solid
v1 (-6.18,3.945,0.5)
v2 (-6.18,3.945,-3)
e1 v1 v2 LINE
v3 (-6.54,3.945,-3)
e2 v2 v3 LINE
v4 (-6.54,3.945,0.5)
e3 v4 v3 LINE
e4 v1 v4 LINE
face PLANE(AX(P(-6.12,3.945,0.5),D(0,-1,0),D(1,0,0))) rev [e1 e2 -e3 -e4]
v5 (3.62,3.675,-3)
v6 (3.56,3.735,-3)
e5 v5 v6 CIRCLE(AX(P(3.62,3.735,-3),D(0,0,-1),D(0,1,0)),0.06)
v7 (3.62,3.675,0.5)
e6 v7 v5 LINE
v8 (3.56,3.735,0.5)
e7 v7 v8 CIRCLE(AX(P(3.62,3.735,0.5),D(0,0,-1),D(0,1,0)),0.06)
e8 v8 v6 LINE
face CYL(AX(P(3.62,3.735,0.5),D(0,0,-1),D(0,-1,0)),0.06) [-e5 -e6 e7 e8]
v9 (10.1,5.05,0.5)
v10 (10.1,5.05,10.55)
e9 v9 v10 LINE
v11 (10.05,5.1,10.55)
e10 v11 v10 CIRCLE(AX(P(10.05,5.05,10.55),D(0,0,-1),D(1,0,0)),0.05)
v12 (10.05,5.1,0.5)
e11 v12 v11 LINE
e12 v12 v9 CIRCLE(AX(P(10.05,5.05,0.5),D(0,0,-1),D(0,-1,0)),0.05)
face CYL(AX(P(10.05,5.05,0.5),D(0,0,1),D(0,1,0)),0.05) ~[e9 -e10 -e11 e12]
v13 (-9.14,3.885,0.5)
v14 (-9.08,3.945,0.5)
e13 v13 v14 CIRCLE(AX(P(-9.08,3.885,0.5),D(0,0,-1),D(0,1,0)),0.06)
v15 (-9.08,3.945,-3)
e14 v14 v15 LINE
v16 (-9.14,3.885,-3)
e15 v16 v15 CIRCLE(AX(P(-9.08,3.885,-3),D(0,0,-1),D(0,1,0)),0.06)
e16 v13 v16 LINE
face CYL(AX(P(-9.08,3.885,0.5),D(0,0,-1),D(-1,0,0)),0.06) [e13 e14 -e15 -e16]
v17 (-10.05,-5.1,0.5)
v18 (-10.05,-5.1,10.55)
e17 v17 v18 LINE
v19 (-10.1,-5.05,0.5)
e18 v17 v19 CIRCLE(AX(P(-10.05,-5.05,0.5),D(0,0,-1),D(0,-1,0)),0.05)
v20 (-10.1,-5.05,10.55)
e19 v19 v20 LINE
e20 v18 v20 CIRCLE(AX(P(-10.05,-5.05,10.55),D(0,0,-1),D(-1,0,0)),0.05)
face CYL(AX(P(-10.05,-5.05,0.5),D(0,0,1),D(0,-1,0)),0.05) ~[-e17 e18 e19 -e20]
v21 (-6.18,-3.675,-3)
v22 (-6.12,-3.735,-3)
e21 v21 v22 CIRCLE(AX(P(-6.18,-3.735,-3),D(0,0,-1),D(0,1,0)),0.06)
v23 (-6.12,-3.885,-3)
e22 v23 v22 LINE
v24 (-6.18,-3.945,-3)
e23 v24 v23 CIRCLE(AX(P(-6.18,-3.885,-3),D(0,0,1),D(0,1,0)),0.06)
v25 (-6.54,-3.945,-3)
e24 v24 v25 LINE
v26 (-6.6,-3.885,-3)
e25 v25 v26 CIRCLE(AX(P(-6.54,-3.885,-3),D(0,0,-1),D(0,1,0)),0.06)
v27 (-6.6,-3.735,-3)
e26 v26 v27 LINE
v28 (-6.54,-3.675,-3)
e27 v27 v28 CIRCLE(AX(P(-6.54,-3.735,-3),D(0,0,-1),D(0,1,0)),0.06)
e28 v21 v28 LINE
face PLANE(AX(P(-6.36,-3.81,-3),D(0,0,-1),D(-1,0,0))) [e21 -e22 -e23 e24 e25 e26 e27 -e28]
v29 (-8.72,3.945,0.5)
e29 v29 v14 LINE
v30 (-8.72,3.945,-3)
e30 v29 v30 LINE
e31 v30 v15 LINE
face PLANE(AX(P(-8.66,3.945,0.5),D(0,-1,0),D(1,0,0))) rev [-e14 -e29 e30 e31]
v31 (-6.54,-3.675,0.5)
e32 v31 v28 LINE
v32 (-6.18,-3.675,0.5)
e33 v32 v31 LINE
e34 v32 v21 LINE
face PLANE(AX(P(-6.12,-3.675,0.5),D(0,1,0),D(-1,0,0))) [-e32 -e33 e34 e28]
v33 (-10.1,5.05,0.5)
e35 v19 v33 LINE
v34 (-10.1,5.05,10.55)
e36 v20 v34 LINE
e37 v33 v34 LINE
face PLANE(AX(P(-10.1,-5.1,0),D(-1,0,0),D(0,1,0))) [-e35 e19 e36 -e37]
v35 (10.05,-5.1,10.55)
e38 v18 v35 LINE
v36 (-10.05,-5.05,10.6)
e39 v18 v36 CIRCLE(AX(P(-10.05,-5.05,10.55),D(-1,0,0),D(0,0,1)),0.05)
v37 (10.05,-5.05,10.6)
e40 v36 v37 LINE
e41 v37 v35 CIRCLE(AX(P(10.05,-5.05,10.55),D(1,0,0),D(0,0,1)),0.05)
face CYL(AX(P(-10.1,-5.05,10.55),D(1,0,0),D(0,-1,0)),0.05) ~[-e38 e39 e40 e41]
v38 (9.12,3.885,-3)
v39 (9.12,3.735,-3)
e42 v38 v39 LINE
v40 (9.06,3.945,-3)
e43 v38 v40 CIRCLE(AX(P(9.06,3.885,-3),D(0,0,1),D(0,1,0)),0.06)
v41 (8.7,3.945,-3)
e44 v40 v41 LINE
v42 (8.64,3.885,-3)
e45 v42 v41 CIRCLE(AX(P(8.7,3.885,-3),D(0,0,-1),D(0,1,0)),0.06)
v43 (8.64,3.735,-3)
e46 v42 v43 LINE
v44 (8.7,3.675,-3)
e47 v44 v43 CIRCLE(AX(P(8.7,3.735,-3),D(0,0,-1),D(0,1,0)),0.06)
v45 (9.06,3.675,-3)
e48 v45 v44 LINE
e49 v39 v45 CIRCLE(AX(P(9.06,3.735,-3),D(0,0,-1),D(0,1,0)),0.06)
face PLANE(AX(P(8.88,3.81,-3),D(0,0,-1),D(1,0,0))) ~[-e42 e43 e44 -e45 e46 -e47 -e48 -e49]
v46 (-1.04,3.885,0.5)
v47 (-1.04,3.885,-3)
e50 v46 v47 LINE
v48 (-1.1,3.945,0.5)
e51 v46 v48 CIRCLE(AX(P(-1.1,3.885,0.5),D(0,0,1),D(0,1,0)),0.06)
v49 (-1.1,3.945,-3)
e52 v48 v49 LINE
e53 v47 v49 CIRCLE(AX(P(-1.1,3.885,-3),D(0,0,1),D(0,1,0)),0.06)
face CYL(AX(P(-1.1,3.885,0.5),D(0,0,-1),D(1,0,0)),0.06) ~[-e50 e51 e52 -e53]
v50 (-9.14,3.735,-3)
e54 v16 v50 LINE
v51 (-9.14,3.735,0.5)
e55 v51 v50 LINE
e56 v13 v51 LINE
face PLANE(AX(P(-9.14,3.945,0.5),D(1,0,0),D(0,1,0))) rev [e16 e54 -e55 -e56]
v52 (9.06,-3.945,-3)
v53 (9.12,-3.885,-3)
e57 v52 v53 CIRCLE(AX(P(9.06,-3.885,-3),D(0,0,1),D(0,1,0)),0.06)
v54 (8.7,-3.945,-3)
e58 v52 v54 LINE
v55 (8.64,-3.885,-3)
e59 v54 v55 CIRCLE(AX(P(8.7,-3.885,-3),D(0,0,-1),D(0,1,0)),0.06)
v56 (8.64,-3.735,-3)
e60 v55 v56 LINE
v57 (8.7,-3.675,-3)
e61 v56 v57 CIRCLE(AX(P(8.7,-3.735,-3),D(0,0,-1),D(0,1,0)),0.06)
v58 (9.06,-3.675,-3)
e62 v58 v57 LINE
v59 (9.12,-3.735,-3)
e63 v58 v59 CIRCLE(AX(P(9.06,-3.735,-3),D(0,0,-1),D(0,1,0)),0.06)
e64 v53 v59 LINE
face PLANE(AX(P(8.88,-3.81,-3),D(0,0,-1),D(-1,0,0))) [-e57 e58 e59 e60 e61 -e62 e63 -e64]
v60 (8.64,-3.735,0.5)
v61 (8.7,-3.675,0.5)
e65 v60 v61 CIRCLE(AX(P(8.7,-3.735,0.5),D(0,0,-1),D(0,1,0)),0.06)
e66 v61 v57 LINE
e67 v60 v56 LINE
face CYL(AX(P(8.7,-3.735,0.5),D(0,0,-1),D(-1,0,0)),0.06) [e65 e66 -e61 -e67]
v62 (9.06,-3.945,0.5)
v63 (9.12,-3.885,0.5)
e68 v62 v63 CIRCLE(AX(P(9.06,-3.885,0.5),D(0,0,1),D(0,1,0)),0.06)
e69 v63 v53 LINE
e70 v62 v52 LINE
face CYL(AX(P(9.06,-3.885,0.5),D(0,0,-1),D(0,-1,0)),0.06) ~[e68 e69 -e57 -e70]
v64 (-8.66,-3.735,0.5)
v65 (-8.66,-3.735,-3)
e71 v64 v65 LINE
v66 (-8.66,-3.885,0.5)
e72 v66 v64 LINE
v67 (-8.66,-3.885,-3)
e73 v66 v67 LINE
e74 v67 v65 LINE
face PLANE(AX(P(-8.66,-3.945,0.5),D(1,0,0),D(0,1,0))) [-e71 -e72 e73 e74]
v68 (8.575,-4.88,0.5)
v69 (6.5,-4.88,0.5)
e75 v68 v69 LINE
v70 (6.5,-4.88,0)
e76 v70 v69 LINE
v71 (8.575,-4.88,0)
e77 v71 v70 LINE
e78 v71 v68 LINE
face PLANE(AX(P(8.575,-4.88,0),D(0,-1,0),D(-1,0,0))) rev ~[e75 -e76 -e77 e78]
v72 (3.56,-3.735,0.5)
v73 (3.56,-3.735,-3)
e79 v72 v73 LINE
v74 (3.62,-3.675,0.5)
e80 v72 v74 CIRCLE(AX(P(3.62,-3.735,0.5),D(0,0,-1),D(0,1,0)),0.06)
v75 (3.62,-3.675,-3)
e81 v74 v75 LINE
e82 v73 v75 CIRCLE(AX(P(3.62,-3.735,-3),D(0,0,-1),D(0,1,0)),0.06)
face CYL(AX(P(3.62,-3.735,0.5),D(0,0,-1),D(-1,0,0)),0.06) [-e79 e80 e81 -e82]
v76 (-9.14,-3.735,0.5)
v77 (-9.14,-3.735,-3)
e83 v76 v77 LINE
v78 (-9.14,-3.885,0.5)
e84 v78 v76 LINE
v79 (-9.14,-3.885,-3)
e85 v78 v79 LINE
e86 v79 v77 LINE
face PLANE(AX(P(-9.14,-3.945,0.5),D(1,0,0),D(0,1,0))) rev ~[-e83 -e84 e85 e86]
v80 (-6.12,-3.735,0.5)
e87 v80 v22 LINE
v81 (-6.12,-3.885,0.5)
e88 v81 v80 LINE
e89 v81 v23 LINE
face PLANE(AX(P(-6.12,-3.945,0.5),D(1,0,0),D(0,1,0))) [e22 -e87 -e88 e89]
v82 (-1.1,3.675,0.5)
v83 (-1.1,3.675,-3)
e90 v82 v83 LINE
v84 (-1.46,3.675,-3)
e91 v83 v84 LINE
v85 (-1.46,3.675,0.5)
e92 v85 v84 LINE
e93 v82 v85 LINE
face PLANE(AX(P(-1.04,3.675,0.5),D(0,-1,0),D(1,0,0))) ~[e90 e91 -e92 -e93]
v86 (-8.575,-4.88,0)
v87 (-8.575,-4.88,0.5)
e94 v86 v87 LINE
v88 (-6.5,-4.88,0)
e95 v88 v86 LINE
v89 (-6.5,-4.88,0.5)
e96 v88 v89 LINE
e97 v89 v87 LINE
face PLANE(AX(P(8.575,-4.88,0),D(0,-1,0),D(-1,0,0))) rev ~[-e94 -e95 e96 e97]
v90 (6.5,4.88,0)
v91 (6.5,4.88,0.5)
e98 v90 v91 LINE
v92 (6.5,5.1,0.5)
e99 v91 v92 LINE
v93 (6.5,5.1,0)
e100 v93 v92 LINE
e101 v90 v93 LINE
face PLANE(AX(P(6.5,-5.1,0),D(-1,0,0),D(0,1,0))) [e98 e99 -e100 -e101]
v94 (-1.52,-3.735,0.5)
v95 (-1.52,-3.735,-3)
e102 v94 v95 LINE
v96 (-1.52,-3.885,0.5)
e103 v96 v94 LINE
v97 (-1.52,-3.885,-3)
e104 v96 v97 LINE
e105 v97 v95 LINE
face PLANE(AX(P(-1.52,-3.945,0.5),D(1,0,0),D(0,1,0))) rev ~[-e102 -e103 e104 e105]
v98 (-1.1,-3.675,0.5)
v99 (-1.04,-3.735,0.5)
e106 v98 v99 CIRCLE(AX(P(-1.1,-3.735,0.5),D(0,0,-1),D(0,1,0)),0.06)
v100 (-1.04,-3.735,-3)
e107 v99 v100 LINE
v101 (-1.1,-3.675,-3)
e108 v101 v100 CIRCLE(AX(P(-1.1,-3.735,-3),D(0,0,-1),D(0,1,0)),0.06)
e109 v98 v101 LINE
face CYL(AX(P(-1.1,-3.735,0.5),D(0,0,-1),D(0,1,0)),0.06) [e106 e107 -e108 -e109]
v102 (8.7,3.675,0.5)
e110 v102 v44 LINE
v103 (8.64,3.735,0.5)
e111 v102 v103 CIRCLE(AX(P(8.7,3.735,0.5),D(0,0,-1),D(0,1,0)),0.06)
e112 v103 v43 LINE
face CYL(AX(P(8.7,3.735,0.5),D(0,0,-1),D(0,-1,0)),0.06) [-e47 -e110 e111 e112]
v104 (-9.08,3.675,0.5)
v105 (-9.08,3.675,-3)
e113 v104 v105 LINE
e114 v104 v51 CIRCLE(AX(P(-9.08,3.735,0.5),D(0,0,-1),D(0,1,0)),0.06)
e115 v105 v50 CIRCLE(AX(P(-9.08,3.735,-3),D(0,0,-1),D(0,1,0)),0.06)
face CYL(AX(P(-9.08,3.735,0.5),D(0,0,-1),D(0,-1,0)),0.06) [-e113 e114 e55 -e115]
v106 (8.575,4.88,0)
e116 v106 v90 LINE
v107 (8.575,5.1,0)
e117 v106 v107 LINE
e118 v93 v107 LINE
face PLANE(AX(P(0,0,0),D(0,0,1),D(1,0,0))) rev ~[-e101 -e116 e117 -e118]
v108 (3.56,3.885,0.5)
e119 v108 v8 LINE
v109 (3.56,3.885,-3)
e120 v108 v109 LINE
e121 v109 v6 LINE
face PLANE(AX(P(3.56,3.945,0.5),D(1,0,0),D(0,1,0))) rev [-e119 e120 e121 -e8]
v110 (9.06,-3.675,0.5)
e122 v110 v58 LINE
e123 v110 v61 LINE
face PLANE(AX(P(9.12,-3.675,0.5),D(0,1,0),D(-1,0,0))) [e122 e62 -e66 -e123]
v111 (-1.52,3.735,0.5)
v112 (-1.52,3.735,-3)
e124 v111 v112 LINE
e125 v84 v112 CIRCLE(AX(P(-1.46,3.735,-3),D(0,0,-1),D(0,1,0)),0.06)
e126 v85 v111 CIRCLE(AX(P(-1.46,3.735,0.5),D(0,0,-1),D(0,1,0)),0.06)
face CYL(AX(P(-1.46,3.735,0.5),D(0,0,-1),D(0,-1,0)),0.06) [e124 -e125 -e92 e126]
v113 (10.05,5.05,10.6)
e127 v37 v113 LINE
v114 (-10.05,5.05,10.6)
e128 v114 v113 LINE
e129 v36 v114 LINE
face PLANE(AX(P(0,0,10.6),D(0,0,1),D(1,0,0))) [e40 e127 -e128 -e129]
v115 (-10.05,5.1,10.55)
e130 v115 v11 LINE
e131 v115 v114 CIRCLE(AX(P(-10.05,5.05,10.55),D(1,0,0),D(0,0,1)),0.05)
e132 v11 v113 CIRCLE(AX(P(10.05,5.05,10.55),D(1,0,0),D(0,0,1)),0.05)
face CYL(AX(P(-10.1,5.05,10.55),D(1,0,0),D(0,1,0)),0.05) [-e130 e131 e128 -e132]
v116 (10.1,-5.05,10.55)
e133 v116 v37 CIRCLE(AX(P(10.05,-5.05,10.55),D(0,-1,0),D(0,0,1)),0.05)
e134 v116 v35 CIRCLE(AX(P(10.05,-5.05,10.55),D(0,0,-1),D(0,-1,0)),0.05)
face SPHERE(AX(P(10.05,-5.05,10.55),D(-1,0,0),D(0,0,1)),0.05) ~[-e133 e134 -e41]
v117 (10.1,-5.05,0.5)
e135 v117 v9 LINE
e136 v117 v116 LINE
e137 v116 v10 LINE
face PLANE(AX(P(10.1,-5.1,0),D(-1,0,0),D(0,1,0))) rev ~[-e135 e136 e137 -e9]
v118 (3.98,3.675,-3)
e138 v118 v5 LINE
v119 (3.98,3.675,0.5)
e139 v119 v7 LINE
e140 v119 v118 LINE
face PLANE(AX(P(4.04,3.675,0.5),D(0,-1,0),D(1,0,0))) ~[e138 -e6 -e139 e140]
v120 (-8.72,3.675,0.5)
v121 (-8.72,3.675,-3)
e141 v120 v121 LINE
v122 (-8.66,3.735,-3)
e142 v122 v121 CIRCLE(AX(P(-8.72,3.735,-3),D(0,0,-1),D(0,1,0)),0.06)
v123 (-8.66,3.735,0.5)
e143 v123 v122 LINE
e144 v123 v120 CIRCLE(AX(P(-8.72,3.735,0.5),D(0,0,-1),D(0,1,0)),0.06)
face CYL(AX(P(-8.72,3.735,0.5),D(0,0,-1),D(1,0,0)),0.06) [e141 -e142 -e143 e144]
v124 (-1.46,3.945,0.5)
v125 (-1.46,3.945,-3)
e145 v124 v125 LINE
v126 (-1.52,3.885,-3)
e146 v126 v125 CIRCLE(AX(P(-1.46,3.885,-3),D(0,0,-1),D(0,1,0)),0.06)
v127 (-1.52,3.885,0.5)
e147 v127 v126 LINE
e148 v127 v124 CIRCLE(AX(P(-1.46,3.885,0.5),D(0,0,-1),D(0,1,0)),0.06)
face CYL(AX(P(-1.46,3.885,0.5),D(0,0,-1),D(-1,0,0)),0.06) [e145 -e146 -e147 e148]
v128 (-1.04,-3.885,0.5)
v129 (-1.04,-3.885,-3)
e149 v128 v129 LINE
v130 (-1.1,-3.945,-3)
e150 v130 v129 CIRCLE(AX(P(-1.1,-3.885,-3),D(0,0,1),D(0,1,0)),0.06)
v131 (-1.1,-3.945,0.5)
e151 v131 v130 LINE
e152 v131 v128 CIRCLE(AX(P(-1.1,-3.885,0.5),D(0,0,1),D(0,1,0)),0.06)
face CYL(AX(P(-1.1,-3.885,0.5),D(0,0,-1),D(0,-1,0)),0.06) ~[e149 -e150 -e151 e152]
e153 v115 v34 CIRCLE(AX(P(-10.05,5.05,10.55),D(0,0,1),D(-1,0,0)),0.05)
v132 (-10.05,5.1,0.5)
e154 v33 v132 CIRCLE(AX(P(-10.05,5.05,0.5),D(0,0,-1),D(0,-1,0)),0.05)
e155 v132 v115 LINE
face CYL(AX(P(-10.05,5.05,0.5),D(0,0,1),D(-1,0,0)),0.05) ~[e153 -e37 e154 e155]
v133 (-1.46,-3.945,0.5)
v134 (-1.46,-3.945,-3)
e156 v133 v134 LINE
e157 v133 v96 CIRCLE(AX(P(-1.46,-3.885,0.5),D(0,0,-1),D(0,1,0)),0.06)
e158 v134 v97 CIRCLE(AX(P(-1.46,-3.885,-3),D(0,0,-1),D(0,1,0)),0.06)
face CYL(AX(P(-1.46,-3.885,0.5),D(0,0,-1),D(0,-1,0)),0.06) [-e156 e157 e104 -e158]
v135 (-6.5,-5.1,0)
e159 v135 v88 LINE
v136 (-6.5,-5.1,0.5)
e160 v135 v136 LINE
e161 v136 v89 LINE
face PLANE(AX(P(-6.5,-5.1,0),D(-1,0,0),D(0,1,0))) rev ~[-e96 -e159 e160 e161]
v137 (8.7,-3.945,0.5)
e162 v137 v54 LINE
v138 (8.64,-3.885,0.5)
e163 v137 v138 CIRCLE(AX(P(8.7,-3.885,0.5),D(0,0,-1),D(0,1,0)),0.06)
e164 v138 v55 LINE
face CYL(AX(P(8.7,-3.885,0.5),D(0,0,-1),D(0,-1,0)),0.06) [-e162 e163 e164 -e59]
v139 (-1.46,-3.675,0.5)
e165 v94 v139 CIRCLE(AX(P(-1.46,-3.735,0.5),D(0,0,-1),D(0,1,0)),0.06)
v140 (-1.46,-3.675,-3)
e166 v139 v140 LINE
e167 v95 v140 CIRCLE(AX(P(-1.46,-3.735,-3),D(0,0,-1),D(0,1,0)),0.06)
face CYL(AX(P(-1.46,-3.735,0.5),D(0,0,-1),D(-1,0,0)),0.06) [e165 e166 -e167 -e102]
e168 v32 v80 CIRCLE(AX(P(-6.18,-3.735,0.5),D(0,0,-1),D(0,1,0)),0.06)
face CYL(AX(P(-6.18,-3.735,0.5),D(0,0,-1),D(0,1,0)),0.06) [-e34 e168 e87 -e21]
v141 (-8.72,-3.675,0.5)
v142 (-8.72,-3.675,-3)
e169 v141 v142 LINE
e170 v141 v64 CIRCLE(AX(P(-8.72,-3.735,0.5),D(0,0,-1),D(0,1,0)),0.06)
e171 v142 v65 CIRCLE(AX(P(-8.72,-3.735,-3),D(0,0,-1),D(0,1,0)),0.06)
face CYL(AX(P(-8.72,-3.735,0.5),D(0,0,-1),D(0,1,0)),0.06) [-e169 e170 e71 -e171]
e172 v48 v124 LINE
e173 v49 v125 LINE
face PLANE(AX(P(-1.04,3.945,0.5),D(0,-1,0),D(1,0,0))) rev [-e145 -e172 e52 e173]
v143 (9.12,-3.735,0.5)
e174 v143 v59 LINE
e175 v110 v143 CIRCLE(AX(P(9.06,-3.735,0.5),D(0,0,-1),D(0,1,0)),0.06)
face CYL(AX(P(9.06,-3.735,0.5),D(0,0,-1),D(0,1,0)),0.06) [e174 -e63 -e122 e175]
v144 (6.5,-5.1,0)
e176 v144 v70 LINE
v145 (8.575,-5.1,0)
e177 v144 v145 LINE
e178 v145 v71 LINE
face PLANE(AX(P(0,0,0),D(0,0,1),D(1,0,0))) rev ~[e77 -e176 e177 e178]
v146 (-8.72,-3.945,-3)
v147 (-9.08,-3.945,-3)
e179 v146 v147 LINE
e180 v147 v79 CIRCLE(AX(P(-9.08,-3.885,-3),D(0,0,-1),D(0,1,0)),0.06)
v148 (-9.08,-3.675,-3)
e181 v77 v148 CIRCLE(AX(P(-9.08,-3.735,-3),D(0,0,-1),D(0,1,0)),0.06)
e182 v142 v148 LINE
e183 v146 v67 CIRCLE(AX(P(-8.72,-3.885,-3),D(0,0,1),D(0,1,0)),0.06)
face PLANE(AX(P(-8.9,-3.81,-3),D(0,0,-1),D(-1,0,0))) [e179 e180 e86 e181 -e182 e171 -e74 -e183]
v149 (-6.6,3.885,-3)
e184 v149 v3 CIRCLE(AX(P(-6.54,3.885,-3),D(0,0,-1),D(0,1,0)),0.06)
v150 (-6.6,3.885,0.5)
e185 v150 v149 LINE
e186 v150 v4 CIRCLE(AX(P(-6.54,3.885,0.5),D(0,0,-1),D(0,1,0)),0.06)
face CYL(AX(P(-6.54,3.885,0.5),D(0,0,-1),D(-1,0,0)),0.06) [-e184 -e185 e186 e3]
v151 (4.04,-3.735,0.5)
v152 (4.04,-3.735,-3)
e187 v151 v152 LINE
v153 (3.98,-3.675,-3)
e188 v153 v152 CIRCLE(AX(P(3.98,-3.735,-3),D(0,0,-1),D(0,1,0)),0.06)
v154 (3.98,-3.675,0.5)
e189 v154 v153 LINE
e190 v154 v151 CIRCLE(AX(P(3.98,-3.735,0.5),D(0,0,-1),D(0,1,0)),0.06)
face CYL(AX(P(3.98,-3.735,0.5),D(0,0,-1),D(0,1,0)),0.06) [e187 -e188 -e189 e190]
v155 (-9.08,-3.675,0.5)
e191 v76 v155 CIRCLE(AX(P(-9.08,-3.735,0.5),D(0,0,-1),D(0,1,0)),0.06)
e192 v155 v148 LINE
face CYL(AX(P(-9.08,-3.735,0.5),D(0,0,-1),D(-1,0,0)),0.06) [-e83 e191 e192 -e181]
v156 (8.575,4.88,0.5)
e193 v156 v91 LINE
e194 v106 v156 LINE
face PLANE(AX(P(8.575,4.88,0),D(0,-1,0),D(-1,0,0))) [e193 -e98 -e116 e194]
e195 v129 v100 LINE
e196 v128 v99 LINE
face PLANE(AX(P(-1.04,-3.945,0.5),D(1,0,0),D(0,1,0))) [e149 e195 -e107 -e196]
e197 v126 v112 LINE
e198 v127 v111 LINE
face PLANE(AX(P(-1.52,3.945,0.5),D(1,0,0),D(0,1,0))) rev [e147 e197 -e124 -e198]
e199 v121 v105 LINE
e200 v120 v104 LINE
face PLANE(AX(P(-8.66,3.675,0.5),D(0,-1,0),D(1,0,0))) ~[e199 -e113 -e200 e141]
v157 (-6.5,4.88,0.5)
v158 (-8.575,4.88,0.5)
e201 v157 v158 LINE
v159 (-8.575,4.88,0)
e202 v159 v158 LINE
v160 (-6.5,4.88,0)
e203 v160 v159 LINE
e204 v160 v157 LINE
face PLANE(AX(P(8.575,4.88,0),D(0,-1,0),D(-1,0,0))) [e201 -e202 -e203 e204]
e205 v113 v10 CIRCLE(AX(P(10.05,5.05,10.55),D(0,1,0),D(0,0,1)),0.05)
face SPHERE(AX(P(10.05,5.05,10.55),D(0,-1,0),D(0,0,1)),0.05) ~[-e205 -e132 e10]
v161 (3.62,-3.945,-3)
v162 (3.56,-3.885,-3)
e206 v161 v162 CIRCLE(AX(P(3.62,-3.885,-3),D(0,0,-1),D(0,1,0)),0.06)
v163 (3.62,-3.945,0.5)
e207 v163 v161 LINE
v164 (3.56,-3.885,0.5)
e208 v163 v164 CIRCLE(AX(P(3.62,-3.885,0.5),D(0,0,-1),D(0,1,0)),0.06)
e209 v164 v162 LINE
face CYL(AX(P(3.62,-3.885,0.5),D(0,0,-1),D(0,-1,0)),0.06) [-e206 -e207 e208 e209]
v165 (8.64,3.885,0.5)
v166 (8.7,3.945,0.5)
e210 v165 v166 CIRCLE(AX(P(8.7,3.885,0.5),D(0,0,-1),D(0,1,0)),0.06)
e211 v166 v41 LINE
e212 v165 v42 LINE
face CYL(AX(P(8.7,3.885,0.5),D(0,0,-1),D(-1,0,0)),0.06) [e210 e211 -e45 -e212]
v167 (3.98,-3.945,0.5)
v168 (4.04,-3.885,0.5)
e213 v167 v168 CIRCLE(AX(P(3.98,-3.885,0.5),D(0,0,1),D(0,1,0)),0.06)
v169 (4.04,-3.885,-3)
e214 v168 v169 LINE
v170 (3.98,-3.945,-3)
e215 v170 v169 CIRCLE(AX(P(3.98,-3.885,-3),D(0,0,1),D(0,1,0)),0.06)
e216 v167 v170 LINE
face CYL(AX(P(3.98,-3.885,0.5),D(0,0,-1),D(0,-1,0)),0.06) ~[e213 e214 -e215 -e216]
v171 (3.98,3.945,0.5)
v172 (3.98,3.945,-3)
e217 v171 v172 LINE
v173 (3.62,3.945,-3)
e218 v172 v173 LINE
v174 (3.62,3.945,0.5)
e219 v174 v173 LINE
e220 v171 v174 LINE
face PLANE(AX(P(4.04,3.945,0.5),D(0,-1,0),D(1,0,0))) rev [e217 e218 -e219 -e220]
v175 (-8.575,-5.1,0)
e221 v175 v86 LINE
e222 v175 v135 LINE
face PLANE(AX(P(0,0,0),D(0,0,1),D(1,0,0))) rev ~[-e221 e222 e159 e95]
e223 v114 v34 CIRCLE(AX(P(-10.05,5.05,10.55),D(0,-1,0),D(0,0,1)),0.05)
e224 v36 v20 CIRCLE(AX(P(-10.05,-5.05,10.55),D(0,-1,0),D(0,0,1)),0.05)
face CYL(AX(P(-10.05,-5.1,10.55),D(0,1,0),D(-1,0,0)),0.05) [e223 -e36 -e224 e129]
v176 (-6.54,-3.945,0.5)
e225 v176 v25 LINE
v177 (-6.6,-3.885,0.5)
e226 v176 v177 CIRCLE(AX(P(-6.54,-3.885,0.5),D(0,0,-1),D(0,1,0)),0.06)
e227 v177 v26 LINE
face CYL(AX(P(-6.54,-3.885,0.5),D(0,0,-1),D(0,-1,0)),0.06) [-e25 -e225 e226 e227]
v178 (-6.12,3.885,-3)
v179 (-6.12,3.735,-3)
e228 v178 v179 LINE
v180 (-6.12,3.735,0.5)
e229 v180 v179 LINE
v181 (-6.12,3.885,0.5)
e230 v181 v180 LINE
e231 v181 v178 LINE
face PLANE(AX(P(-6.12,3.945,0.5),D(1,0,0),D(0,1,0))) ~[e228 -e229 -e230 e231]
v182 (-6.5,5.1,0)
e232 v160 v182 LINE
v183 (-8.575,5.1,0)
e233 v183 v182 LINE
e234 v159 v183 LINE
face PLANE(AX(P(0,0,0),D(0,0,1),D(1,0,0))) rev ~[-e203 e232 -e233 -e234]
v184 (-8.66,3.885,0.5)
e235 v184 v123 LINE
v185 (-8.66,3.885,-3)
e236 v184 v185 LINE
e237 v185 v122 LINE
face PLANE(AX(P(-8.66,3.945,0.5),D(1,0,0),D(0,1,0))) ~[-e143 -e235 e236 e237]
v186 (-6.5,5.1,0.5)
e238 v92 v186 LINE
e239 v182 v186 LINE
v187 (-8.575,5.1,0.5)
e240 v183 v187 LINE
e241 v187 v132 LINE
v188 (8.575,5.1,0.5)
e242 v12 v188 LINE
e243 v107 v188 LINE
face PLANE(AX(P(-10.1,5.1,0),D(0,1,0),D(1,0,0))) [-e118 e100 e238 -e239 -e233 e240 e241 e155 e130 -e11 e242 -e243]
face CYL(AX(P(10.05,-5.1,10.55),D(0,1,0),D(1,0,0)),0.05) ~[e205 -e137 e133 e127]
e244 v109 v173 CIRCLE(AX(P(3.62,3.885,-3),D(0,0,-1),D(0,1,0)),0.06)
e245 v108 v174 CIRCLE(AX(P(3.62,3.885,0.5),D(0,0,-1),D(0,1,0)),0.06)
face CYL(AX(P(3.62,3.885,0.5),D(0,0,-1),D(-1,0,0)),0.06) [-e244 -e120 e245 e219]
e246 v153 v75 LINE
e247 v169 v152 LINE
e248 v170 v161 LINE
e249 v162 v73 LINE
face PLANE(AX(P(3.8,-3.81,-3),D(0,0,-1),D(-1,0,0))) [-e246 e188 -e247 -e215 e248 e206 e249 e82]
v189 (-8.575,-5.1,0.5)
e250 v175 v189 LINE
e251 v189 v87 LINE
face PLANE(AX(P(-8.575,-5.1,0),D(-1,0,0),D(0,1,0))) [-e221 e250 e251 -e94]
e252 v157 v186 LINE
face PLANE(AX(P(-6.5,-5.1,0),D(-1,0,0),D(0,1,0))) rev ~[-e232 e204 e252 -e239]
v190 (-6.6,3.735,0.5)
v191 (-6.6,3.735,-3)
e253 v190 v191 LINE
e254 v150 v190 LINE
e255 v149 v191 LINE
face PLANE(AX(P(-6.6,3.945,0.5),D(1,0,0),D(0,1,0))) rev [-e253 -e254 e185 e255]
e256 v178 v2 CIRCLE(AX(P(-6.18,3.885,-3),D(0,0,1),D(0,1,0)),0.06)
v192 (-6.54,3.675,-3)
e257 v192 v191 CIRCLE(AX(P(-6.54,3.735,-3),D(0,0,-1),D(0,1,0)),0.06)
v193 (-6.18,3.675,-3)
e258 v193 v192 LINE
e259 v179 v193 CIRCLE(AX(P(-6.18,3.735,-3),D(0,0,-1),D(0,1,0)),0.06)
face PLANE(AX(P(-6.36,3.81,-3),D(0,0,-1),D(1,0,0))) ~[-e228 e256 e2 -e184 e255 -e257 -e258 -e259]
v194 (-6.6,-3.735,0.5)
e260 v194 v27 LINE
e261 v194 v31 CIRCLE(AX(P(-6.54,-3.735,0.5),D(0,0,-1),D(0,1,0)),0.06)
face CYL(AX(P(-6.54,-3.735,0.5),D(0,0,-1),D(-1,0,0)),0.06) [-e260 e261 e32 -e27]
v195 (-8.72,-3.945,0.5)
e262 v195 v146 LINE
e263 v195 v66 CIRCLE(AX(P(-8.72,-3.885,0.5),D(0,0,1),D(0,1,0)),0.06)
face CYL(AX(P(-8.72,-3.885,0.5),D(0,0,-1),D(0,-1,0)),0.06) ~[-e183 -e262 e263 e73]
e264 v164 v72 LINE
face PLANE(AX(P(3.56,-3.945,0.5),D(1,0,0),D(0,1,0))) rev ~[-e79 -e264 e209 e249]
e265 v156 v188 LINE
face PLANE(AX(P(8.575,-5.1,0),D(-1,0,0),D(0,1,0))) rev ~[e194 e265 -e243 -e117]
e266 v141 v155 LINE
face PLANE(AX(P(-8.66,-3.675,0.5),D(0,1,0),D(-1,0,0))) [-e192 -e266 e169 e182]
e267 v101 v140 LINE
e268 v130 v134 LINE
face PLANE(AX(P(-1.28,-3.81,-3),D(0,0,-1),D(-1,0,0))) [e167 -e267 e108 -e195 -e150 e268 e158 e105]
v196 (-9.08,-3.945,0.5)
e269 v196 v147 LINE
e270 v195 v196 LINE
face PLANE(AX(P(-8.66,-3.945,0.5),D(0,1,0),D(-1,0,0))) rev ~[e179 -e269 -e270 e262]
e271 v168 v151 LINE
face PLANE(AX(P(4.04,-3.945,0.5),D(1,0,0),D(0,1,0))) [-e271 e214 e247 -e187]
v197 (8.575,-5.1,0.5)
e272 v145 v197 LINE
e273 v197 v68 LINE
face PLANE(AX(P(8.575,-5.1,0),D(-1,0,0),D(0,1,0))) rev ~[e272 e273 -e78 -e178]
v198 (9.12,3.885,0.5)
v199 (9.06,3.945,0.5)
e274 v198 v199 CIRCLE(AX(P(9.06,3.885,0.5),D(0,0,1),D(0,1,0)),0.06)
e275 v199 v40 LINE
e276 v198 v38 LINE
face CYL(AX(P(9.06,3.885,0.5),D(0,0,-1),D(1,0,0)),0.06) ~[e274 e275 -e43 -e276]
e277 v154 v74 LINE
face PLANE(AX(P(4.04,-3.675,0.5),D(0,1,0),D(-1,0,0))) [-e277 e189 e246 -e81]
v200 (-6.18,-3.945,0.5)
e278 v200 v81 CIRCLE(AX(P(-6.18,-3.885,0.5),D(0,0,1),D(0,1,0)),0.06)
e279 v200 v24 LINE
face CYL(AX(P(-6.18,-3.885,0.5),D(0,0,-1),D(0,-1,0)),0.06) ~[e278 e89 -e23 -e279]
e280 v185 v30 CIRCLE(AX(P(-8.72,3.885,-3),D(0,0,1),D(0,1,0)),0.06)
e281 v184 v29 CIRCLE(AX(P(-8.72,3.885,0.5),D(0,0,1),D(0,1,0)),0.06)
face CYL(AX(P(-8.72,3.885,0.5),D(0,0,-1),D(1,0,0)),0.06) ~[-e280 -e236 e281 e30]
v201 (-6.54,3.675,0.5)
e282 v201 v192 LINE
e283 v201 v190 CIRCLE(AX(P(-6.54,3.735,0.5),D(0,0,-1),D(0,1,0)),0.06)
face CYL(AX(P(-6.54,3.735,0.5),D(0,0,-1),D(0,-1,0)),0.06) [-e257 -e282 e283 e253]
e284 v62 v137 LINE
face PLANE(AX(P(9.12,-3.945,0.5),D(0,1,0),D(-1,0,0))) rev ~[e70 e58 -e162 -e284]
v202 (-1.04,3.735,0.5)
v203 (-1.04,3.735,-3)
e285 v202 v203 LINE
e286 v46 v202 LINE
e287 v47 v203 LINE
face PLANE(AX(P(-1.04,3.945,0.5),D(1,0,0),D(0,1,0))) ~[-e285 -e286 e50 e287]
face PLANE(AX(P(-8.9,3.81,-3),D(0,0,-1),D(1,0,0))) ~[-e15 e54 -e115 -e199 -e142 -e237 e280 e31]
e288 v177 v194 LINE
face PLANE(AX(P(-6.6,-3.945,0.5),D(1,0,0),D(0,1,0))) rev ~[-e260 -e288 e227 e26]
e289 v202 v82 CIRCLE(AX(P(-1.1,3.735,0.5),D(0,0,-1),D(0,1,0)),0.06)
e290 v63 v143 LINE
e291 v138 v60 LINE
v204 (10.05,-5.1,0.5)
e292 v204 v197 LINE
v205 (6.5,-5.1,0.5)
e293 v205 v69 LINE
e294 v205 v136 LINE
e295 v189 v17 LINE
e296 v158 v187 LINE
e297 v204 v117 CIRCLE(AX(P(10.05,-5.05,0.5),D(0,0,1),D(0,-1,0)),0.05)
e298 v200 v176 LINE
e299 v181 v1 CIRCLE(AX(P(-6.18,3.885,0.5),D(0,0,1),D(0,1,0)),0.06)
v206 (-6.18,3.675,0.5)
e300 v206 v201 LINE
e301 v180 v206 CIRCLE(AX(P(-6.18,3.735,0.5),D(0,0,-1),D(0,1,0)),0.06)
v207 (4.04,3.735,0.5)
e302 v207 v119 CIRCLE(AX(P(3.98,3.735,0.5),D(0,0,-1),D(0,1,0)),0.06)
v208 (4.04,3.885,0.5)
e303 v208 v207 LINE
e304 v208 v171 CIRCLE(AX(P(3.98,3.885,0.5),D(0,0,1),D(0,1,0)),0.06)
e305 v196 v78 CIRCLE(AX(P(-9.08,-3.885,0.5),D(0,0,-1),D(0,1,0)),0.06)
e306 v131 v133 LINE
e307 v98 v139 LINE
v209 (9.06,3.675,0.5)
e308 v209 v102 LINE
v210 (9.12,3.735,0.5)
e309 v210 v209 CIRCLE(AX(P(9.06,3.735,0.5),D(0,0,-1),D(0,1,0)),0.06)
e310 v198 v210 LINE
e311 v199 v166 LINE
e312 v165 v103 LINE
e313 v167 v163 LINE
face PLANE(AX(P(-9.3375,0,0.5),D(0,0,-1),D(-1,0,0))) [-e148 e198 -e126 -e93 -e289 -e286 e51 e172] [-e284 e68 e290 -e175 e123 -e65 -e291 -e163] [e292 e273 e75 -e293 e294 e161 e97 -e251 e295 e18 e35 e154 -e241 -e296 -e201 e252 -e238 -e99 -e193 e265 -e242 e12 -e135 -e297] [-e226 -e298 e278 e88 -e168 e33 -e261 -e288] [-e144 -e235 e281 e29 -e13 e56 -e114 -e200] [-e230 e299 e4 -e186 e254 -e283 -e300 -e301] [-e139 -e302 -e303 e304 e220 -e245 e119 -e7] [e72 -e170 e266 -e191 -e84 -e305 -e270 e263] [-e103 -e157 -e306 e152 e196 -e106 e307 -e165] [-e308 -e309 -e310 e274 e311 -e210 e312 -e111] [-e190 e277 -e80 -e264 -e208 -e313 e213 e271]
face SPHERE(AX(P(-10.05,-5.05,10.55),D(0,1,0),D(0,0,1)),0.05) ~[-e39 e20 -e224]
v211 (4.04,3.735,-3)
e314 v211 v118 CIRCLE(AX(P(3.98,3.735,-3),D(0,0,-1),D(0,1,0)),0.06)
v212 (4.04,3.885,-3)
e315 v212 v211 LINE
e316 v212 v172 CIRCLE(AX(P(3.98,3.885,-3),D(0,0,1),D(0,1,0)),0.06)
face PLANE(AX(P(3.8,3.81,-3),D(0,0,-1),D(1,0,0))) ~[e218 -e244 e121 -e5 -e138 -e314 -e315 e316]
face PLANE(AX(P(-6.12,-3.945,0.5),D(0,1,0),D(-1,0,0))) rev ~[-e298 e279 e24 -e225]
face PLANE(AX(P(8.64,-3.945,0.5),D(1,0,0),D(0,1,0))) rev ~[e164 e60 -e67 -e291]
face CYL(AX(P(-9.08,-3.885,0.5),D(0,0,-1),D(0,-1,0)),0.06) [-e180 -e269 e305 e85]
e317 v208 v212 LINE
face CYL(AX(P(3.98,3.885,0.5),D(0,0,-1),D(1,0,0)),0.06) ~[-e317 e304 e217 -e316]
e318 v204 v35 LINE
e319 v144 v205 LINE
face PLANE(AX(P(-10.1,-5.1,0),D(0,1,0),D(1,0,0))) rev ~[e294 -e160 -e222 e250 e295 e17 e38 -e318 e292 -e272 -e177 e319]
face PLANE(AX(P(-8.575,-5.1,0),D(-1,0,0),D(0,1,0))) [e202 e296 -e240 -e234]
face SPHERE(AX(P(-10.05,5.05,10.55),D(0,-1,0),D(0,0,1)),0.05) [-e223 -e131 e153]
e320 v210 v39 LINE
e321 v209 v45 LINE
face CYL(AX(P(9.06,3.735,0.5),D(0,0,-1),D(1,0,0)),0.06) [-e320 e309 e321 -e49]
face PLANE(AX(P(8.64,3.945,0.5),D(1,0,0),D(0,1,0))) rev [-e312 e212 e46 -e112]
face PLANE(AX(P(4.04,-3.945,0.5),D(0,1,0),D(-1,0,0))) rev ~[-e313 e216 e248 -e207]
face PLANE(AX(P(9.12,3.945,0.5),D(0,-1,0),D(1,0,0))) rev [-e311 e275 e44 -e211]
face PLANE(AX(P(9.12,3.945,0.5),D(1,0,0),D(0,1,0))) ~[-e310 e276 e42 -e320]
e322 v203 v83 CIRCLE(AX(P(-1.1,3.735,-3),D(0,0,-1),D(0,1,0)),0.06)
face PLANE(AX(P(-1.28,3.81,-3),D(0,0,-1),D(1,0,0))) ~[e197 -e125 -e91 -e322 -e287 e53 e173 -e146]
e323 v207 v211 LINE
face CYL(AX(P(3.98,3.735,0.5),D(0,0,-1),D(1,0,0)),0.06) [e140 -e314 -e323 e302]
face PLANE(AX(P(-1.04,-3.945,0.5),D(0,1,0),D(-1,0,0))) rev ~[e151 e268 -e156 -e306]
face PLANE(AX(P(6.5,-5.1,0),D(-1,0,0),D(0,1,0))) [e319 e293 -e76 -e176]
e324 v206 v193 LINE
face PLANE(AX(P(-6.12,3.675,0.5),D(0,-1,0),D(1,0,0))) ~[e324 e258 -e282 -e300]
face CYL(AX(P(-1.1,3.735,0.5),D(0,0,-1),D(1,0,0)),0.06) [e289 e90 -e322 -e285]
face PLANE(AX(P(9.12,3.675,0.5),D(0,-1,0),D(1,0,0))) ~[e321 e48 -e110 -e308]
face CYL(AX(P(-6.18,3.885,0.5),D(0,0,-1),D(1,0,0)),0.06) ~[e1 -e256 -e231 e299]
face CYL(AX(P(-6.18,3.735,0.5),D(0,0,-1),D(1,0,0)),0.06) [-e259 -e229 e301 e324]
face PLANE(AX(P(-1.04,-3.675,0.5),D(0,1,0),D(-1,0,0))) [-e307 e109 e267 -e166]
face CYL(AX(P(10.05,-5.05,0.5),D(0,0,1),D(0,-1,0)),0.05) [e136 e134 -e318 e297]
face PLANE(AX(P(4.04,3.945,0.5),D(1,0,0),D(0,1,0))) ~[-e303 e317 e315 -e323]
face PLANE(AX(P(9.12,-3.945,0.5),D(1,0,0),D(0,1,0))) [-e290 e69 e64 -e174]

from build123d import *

# Parameters (mm, degrees)
SKETCH1_W            = 20.2
SKETCH1_H            = 10.2
BOSS_EXTRUDE1_DEPTH  = 10.6
SKETCH2_W            = 13
SKETCH2_H            = 10.2
SKETCH2_W_2          = 1.525
CUT_EXTRUDE1_DEPTH   = 0.5
SKETCH3_W            = 17.15
SKETCH3_H            = 9.76
CUT_EXTRUDE2_DEPTH   = 0.5
SKETCH4_W            = 0.48
SKETCH4_H            = 0.27
BOSS_EXTRUDE2_DEPTH  = 3.5
FILLET1_R            = 0.06
FILLET1_OF_MIRROR1_R = 0.06
FILLET2_R            = 0.05


with BuildPart() as part:
    # Sketch1 → Boss-Extrude1 (new body)
    with BuildSketch(Plane.XY):
        Rectangle(SKETCH1_W, SKETCH1_H)
    extrude(amount=BOSS_EXTRUDE1_DEPTH)

    # Sketch2 → Cut-Extrude1 (cut)
    with BuildSketch(Plane(origin=(0, 0, 0), x_dir=(-1, 0, 0), z_dir=(0, 0, -1))):
        Rectangle(SKETCH2_W, SKETCH2_H)
        with Locations((-9.3375, 0)):
            Rectangle(SKETCH2_W_2, SKETCH2_H)
        with Locations((9.3375, 0)):
            Rectangle(SKETCH2_W_2, SKETCH2_H)
    extrude(amount=-CUT_EXTRUDE1_DEPTH, mode=Mode.SUBTRACT)

    # Sketch3 → Cut-Extrude2 (cut)
    with BuildSketch(Plane(origin=(0, 0, 0), x_dir=(-1, 0, 0), z_dir=(0, 0, -1))):
        Rectangle(SKETCH3_W, SKETCH3_H)
    extrude(amount=-CUT_EXTRUDE2_DEPTH, mode=Mode.SUBTRACT)

    # Sketch4 → Boss-Extrude2 (add)
    with BuildSketch(Plane(origin=(0, 0, 0.5), x_dir=(-1, 0, 0), z_dir=(0, 0, -1))):
        with Locations((8.9, -3.81)):
            Rectangle(SKETCH4_W, SKETCH4_H)
        with Locations((6.36, -3.81)):
            Rectangle(SKETCH4_W, SKETCH4_H)
        with Locations((1.28, -3.81)):
            Rectangle(SKETCH4_W, SKETCH4_H)
        with Locations((-3.8, -3.81)):
            Rectangle(SKETCH4_W, SKETCH4_H)
        with Locations((-8.88, -3.81)):
            Rectangle(SKETCH4_W, SKETCH4_H)
    boss_extrude2 = extrude(amount=BOSS_EXTRUDE2_DEPTH)

    # Fillet1
    fillet1_edges = [part.edges().sort_by_distance(p)[0] for p in [
        (-6.6, -3.675, -1.25),
        (-6.6, -3.945, -1.25),
        (-6.12, -3.945, -1.25),
        (-6.12, -3.675, -1.25),
        (-1.52, -3.675, -1.25),
        (-1.52, -3.945, -1.25),
        (-1.04, -3.945, -1.25),
        (-1.04, -3.675, -1.25),
        (3.56, -3.675, -1.25),
        (3.56, -3.945, -1.25),
        (4.04, -3.945, -1.25),
        (4.04, -3.675, -1.25),
        (8.64, -3.675, -1.25),
        (8.64, -3.945, -1.25),
        (9.12, -3.945, -1.25),
        (9.12, -3.675, -1.25),
        (-8.66, -3.945, -1.25),
        (-8.66, -3.675, -1.25),
        (-9.14, -3.675, -1.25),
        (-9.14, -3.945, -1.25),
    ]]
    fillet(fillet1_edges, radius=FILLET1_R)

    # Mirror1: Boss-Extrude2 across plane
    add(boss_extrude2.mirror(Plane.ZX))

    # Fillet1 of Mirror1
    fillet1_of_mirror1_edges = [part.edges().sort_by_distance(p)[0] for p in [
        (-6.6, 3.675, -1.25),
        (-6.6, 3.945, -1.25),
        (-6.12, 3.945, -1.25),
        (-6.12, 3.675, -1.25),
        (-1.52, 3.675, -1.25),
        (-1.52, 3.945, -1.25),
        (-1.04, 3.945, -1.25),
        (-1.04, 3.675, -1.25),
        (3.56, 3.675, -1.25),
        (3.56, 3.945, -1.25),
        (4.04, 3.945, -1.25),
        (4.04, 3.675, -1.25),
        (8.64, 3.675, -1.25),
        (8.64, 3.945, -1.25),
        (9.12, 3.945, -1.25),
        (9.12, 3.675, -1.25),
        (-8.66, 3.945, -1.25),
        (-8.66, 3.675, -1.25),
        (-9.14, 3.675, -1.25),
        (-9.14, 3.945, -1.25),
    ]]
    fillet(fillet1_of_mirror1_edges, radius=FILLET1_OF_MIRROR1_R)

    # Fillet2
    fillet2_edges = [part.edges().sort_by_distance(p)[0] for p in [
        (-10.1, 0, 10.6),
        (0, -5.1, 10.6),
        (10.1, 0, 10.6),
        (0, 5.1, 10.6),
        (10.1, -5.1, 5.55),
        (-10.1, -5.1, 5.55),
        (-10.1, 5.1, 5.55),
        (10.1, 5.1, 5.55),
    ]]
    fillet(fillet2_edges, radius=FILLET2_R)


solid = part.part
